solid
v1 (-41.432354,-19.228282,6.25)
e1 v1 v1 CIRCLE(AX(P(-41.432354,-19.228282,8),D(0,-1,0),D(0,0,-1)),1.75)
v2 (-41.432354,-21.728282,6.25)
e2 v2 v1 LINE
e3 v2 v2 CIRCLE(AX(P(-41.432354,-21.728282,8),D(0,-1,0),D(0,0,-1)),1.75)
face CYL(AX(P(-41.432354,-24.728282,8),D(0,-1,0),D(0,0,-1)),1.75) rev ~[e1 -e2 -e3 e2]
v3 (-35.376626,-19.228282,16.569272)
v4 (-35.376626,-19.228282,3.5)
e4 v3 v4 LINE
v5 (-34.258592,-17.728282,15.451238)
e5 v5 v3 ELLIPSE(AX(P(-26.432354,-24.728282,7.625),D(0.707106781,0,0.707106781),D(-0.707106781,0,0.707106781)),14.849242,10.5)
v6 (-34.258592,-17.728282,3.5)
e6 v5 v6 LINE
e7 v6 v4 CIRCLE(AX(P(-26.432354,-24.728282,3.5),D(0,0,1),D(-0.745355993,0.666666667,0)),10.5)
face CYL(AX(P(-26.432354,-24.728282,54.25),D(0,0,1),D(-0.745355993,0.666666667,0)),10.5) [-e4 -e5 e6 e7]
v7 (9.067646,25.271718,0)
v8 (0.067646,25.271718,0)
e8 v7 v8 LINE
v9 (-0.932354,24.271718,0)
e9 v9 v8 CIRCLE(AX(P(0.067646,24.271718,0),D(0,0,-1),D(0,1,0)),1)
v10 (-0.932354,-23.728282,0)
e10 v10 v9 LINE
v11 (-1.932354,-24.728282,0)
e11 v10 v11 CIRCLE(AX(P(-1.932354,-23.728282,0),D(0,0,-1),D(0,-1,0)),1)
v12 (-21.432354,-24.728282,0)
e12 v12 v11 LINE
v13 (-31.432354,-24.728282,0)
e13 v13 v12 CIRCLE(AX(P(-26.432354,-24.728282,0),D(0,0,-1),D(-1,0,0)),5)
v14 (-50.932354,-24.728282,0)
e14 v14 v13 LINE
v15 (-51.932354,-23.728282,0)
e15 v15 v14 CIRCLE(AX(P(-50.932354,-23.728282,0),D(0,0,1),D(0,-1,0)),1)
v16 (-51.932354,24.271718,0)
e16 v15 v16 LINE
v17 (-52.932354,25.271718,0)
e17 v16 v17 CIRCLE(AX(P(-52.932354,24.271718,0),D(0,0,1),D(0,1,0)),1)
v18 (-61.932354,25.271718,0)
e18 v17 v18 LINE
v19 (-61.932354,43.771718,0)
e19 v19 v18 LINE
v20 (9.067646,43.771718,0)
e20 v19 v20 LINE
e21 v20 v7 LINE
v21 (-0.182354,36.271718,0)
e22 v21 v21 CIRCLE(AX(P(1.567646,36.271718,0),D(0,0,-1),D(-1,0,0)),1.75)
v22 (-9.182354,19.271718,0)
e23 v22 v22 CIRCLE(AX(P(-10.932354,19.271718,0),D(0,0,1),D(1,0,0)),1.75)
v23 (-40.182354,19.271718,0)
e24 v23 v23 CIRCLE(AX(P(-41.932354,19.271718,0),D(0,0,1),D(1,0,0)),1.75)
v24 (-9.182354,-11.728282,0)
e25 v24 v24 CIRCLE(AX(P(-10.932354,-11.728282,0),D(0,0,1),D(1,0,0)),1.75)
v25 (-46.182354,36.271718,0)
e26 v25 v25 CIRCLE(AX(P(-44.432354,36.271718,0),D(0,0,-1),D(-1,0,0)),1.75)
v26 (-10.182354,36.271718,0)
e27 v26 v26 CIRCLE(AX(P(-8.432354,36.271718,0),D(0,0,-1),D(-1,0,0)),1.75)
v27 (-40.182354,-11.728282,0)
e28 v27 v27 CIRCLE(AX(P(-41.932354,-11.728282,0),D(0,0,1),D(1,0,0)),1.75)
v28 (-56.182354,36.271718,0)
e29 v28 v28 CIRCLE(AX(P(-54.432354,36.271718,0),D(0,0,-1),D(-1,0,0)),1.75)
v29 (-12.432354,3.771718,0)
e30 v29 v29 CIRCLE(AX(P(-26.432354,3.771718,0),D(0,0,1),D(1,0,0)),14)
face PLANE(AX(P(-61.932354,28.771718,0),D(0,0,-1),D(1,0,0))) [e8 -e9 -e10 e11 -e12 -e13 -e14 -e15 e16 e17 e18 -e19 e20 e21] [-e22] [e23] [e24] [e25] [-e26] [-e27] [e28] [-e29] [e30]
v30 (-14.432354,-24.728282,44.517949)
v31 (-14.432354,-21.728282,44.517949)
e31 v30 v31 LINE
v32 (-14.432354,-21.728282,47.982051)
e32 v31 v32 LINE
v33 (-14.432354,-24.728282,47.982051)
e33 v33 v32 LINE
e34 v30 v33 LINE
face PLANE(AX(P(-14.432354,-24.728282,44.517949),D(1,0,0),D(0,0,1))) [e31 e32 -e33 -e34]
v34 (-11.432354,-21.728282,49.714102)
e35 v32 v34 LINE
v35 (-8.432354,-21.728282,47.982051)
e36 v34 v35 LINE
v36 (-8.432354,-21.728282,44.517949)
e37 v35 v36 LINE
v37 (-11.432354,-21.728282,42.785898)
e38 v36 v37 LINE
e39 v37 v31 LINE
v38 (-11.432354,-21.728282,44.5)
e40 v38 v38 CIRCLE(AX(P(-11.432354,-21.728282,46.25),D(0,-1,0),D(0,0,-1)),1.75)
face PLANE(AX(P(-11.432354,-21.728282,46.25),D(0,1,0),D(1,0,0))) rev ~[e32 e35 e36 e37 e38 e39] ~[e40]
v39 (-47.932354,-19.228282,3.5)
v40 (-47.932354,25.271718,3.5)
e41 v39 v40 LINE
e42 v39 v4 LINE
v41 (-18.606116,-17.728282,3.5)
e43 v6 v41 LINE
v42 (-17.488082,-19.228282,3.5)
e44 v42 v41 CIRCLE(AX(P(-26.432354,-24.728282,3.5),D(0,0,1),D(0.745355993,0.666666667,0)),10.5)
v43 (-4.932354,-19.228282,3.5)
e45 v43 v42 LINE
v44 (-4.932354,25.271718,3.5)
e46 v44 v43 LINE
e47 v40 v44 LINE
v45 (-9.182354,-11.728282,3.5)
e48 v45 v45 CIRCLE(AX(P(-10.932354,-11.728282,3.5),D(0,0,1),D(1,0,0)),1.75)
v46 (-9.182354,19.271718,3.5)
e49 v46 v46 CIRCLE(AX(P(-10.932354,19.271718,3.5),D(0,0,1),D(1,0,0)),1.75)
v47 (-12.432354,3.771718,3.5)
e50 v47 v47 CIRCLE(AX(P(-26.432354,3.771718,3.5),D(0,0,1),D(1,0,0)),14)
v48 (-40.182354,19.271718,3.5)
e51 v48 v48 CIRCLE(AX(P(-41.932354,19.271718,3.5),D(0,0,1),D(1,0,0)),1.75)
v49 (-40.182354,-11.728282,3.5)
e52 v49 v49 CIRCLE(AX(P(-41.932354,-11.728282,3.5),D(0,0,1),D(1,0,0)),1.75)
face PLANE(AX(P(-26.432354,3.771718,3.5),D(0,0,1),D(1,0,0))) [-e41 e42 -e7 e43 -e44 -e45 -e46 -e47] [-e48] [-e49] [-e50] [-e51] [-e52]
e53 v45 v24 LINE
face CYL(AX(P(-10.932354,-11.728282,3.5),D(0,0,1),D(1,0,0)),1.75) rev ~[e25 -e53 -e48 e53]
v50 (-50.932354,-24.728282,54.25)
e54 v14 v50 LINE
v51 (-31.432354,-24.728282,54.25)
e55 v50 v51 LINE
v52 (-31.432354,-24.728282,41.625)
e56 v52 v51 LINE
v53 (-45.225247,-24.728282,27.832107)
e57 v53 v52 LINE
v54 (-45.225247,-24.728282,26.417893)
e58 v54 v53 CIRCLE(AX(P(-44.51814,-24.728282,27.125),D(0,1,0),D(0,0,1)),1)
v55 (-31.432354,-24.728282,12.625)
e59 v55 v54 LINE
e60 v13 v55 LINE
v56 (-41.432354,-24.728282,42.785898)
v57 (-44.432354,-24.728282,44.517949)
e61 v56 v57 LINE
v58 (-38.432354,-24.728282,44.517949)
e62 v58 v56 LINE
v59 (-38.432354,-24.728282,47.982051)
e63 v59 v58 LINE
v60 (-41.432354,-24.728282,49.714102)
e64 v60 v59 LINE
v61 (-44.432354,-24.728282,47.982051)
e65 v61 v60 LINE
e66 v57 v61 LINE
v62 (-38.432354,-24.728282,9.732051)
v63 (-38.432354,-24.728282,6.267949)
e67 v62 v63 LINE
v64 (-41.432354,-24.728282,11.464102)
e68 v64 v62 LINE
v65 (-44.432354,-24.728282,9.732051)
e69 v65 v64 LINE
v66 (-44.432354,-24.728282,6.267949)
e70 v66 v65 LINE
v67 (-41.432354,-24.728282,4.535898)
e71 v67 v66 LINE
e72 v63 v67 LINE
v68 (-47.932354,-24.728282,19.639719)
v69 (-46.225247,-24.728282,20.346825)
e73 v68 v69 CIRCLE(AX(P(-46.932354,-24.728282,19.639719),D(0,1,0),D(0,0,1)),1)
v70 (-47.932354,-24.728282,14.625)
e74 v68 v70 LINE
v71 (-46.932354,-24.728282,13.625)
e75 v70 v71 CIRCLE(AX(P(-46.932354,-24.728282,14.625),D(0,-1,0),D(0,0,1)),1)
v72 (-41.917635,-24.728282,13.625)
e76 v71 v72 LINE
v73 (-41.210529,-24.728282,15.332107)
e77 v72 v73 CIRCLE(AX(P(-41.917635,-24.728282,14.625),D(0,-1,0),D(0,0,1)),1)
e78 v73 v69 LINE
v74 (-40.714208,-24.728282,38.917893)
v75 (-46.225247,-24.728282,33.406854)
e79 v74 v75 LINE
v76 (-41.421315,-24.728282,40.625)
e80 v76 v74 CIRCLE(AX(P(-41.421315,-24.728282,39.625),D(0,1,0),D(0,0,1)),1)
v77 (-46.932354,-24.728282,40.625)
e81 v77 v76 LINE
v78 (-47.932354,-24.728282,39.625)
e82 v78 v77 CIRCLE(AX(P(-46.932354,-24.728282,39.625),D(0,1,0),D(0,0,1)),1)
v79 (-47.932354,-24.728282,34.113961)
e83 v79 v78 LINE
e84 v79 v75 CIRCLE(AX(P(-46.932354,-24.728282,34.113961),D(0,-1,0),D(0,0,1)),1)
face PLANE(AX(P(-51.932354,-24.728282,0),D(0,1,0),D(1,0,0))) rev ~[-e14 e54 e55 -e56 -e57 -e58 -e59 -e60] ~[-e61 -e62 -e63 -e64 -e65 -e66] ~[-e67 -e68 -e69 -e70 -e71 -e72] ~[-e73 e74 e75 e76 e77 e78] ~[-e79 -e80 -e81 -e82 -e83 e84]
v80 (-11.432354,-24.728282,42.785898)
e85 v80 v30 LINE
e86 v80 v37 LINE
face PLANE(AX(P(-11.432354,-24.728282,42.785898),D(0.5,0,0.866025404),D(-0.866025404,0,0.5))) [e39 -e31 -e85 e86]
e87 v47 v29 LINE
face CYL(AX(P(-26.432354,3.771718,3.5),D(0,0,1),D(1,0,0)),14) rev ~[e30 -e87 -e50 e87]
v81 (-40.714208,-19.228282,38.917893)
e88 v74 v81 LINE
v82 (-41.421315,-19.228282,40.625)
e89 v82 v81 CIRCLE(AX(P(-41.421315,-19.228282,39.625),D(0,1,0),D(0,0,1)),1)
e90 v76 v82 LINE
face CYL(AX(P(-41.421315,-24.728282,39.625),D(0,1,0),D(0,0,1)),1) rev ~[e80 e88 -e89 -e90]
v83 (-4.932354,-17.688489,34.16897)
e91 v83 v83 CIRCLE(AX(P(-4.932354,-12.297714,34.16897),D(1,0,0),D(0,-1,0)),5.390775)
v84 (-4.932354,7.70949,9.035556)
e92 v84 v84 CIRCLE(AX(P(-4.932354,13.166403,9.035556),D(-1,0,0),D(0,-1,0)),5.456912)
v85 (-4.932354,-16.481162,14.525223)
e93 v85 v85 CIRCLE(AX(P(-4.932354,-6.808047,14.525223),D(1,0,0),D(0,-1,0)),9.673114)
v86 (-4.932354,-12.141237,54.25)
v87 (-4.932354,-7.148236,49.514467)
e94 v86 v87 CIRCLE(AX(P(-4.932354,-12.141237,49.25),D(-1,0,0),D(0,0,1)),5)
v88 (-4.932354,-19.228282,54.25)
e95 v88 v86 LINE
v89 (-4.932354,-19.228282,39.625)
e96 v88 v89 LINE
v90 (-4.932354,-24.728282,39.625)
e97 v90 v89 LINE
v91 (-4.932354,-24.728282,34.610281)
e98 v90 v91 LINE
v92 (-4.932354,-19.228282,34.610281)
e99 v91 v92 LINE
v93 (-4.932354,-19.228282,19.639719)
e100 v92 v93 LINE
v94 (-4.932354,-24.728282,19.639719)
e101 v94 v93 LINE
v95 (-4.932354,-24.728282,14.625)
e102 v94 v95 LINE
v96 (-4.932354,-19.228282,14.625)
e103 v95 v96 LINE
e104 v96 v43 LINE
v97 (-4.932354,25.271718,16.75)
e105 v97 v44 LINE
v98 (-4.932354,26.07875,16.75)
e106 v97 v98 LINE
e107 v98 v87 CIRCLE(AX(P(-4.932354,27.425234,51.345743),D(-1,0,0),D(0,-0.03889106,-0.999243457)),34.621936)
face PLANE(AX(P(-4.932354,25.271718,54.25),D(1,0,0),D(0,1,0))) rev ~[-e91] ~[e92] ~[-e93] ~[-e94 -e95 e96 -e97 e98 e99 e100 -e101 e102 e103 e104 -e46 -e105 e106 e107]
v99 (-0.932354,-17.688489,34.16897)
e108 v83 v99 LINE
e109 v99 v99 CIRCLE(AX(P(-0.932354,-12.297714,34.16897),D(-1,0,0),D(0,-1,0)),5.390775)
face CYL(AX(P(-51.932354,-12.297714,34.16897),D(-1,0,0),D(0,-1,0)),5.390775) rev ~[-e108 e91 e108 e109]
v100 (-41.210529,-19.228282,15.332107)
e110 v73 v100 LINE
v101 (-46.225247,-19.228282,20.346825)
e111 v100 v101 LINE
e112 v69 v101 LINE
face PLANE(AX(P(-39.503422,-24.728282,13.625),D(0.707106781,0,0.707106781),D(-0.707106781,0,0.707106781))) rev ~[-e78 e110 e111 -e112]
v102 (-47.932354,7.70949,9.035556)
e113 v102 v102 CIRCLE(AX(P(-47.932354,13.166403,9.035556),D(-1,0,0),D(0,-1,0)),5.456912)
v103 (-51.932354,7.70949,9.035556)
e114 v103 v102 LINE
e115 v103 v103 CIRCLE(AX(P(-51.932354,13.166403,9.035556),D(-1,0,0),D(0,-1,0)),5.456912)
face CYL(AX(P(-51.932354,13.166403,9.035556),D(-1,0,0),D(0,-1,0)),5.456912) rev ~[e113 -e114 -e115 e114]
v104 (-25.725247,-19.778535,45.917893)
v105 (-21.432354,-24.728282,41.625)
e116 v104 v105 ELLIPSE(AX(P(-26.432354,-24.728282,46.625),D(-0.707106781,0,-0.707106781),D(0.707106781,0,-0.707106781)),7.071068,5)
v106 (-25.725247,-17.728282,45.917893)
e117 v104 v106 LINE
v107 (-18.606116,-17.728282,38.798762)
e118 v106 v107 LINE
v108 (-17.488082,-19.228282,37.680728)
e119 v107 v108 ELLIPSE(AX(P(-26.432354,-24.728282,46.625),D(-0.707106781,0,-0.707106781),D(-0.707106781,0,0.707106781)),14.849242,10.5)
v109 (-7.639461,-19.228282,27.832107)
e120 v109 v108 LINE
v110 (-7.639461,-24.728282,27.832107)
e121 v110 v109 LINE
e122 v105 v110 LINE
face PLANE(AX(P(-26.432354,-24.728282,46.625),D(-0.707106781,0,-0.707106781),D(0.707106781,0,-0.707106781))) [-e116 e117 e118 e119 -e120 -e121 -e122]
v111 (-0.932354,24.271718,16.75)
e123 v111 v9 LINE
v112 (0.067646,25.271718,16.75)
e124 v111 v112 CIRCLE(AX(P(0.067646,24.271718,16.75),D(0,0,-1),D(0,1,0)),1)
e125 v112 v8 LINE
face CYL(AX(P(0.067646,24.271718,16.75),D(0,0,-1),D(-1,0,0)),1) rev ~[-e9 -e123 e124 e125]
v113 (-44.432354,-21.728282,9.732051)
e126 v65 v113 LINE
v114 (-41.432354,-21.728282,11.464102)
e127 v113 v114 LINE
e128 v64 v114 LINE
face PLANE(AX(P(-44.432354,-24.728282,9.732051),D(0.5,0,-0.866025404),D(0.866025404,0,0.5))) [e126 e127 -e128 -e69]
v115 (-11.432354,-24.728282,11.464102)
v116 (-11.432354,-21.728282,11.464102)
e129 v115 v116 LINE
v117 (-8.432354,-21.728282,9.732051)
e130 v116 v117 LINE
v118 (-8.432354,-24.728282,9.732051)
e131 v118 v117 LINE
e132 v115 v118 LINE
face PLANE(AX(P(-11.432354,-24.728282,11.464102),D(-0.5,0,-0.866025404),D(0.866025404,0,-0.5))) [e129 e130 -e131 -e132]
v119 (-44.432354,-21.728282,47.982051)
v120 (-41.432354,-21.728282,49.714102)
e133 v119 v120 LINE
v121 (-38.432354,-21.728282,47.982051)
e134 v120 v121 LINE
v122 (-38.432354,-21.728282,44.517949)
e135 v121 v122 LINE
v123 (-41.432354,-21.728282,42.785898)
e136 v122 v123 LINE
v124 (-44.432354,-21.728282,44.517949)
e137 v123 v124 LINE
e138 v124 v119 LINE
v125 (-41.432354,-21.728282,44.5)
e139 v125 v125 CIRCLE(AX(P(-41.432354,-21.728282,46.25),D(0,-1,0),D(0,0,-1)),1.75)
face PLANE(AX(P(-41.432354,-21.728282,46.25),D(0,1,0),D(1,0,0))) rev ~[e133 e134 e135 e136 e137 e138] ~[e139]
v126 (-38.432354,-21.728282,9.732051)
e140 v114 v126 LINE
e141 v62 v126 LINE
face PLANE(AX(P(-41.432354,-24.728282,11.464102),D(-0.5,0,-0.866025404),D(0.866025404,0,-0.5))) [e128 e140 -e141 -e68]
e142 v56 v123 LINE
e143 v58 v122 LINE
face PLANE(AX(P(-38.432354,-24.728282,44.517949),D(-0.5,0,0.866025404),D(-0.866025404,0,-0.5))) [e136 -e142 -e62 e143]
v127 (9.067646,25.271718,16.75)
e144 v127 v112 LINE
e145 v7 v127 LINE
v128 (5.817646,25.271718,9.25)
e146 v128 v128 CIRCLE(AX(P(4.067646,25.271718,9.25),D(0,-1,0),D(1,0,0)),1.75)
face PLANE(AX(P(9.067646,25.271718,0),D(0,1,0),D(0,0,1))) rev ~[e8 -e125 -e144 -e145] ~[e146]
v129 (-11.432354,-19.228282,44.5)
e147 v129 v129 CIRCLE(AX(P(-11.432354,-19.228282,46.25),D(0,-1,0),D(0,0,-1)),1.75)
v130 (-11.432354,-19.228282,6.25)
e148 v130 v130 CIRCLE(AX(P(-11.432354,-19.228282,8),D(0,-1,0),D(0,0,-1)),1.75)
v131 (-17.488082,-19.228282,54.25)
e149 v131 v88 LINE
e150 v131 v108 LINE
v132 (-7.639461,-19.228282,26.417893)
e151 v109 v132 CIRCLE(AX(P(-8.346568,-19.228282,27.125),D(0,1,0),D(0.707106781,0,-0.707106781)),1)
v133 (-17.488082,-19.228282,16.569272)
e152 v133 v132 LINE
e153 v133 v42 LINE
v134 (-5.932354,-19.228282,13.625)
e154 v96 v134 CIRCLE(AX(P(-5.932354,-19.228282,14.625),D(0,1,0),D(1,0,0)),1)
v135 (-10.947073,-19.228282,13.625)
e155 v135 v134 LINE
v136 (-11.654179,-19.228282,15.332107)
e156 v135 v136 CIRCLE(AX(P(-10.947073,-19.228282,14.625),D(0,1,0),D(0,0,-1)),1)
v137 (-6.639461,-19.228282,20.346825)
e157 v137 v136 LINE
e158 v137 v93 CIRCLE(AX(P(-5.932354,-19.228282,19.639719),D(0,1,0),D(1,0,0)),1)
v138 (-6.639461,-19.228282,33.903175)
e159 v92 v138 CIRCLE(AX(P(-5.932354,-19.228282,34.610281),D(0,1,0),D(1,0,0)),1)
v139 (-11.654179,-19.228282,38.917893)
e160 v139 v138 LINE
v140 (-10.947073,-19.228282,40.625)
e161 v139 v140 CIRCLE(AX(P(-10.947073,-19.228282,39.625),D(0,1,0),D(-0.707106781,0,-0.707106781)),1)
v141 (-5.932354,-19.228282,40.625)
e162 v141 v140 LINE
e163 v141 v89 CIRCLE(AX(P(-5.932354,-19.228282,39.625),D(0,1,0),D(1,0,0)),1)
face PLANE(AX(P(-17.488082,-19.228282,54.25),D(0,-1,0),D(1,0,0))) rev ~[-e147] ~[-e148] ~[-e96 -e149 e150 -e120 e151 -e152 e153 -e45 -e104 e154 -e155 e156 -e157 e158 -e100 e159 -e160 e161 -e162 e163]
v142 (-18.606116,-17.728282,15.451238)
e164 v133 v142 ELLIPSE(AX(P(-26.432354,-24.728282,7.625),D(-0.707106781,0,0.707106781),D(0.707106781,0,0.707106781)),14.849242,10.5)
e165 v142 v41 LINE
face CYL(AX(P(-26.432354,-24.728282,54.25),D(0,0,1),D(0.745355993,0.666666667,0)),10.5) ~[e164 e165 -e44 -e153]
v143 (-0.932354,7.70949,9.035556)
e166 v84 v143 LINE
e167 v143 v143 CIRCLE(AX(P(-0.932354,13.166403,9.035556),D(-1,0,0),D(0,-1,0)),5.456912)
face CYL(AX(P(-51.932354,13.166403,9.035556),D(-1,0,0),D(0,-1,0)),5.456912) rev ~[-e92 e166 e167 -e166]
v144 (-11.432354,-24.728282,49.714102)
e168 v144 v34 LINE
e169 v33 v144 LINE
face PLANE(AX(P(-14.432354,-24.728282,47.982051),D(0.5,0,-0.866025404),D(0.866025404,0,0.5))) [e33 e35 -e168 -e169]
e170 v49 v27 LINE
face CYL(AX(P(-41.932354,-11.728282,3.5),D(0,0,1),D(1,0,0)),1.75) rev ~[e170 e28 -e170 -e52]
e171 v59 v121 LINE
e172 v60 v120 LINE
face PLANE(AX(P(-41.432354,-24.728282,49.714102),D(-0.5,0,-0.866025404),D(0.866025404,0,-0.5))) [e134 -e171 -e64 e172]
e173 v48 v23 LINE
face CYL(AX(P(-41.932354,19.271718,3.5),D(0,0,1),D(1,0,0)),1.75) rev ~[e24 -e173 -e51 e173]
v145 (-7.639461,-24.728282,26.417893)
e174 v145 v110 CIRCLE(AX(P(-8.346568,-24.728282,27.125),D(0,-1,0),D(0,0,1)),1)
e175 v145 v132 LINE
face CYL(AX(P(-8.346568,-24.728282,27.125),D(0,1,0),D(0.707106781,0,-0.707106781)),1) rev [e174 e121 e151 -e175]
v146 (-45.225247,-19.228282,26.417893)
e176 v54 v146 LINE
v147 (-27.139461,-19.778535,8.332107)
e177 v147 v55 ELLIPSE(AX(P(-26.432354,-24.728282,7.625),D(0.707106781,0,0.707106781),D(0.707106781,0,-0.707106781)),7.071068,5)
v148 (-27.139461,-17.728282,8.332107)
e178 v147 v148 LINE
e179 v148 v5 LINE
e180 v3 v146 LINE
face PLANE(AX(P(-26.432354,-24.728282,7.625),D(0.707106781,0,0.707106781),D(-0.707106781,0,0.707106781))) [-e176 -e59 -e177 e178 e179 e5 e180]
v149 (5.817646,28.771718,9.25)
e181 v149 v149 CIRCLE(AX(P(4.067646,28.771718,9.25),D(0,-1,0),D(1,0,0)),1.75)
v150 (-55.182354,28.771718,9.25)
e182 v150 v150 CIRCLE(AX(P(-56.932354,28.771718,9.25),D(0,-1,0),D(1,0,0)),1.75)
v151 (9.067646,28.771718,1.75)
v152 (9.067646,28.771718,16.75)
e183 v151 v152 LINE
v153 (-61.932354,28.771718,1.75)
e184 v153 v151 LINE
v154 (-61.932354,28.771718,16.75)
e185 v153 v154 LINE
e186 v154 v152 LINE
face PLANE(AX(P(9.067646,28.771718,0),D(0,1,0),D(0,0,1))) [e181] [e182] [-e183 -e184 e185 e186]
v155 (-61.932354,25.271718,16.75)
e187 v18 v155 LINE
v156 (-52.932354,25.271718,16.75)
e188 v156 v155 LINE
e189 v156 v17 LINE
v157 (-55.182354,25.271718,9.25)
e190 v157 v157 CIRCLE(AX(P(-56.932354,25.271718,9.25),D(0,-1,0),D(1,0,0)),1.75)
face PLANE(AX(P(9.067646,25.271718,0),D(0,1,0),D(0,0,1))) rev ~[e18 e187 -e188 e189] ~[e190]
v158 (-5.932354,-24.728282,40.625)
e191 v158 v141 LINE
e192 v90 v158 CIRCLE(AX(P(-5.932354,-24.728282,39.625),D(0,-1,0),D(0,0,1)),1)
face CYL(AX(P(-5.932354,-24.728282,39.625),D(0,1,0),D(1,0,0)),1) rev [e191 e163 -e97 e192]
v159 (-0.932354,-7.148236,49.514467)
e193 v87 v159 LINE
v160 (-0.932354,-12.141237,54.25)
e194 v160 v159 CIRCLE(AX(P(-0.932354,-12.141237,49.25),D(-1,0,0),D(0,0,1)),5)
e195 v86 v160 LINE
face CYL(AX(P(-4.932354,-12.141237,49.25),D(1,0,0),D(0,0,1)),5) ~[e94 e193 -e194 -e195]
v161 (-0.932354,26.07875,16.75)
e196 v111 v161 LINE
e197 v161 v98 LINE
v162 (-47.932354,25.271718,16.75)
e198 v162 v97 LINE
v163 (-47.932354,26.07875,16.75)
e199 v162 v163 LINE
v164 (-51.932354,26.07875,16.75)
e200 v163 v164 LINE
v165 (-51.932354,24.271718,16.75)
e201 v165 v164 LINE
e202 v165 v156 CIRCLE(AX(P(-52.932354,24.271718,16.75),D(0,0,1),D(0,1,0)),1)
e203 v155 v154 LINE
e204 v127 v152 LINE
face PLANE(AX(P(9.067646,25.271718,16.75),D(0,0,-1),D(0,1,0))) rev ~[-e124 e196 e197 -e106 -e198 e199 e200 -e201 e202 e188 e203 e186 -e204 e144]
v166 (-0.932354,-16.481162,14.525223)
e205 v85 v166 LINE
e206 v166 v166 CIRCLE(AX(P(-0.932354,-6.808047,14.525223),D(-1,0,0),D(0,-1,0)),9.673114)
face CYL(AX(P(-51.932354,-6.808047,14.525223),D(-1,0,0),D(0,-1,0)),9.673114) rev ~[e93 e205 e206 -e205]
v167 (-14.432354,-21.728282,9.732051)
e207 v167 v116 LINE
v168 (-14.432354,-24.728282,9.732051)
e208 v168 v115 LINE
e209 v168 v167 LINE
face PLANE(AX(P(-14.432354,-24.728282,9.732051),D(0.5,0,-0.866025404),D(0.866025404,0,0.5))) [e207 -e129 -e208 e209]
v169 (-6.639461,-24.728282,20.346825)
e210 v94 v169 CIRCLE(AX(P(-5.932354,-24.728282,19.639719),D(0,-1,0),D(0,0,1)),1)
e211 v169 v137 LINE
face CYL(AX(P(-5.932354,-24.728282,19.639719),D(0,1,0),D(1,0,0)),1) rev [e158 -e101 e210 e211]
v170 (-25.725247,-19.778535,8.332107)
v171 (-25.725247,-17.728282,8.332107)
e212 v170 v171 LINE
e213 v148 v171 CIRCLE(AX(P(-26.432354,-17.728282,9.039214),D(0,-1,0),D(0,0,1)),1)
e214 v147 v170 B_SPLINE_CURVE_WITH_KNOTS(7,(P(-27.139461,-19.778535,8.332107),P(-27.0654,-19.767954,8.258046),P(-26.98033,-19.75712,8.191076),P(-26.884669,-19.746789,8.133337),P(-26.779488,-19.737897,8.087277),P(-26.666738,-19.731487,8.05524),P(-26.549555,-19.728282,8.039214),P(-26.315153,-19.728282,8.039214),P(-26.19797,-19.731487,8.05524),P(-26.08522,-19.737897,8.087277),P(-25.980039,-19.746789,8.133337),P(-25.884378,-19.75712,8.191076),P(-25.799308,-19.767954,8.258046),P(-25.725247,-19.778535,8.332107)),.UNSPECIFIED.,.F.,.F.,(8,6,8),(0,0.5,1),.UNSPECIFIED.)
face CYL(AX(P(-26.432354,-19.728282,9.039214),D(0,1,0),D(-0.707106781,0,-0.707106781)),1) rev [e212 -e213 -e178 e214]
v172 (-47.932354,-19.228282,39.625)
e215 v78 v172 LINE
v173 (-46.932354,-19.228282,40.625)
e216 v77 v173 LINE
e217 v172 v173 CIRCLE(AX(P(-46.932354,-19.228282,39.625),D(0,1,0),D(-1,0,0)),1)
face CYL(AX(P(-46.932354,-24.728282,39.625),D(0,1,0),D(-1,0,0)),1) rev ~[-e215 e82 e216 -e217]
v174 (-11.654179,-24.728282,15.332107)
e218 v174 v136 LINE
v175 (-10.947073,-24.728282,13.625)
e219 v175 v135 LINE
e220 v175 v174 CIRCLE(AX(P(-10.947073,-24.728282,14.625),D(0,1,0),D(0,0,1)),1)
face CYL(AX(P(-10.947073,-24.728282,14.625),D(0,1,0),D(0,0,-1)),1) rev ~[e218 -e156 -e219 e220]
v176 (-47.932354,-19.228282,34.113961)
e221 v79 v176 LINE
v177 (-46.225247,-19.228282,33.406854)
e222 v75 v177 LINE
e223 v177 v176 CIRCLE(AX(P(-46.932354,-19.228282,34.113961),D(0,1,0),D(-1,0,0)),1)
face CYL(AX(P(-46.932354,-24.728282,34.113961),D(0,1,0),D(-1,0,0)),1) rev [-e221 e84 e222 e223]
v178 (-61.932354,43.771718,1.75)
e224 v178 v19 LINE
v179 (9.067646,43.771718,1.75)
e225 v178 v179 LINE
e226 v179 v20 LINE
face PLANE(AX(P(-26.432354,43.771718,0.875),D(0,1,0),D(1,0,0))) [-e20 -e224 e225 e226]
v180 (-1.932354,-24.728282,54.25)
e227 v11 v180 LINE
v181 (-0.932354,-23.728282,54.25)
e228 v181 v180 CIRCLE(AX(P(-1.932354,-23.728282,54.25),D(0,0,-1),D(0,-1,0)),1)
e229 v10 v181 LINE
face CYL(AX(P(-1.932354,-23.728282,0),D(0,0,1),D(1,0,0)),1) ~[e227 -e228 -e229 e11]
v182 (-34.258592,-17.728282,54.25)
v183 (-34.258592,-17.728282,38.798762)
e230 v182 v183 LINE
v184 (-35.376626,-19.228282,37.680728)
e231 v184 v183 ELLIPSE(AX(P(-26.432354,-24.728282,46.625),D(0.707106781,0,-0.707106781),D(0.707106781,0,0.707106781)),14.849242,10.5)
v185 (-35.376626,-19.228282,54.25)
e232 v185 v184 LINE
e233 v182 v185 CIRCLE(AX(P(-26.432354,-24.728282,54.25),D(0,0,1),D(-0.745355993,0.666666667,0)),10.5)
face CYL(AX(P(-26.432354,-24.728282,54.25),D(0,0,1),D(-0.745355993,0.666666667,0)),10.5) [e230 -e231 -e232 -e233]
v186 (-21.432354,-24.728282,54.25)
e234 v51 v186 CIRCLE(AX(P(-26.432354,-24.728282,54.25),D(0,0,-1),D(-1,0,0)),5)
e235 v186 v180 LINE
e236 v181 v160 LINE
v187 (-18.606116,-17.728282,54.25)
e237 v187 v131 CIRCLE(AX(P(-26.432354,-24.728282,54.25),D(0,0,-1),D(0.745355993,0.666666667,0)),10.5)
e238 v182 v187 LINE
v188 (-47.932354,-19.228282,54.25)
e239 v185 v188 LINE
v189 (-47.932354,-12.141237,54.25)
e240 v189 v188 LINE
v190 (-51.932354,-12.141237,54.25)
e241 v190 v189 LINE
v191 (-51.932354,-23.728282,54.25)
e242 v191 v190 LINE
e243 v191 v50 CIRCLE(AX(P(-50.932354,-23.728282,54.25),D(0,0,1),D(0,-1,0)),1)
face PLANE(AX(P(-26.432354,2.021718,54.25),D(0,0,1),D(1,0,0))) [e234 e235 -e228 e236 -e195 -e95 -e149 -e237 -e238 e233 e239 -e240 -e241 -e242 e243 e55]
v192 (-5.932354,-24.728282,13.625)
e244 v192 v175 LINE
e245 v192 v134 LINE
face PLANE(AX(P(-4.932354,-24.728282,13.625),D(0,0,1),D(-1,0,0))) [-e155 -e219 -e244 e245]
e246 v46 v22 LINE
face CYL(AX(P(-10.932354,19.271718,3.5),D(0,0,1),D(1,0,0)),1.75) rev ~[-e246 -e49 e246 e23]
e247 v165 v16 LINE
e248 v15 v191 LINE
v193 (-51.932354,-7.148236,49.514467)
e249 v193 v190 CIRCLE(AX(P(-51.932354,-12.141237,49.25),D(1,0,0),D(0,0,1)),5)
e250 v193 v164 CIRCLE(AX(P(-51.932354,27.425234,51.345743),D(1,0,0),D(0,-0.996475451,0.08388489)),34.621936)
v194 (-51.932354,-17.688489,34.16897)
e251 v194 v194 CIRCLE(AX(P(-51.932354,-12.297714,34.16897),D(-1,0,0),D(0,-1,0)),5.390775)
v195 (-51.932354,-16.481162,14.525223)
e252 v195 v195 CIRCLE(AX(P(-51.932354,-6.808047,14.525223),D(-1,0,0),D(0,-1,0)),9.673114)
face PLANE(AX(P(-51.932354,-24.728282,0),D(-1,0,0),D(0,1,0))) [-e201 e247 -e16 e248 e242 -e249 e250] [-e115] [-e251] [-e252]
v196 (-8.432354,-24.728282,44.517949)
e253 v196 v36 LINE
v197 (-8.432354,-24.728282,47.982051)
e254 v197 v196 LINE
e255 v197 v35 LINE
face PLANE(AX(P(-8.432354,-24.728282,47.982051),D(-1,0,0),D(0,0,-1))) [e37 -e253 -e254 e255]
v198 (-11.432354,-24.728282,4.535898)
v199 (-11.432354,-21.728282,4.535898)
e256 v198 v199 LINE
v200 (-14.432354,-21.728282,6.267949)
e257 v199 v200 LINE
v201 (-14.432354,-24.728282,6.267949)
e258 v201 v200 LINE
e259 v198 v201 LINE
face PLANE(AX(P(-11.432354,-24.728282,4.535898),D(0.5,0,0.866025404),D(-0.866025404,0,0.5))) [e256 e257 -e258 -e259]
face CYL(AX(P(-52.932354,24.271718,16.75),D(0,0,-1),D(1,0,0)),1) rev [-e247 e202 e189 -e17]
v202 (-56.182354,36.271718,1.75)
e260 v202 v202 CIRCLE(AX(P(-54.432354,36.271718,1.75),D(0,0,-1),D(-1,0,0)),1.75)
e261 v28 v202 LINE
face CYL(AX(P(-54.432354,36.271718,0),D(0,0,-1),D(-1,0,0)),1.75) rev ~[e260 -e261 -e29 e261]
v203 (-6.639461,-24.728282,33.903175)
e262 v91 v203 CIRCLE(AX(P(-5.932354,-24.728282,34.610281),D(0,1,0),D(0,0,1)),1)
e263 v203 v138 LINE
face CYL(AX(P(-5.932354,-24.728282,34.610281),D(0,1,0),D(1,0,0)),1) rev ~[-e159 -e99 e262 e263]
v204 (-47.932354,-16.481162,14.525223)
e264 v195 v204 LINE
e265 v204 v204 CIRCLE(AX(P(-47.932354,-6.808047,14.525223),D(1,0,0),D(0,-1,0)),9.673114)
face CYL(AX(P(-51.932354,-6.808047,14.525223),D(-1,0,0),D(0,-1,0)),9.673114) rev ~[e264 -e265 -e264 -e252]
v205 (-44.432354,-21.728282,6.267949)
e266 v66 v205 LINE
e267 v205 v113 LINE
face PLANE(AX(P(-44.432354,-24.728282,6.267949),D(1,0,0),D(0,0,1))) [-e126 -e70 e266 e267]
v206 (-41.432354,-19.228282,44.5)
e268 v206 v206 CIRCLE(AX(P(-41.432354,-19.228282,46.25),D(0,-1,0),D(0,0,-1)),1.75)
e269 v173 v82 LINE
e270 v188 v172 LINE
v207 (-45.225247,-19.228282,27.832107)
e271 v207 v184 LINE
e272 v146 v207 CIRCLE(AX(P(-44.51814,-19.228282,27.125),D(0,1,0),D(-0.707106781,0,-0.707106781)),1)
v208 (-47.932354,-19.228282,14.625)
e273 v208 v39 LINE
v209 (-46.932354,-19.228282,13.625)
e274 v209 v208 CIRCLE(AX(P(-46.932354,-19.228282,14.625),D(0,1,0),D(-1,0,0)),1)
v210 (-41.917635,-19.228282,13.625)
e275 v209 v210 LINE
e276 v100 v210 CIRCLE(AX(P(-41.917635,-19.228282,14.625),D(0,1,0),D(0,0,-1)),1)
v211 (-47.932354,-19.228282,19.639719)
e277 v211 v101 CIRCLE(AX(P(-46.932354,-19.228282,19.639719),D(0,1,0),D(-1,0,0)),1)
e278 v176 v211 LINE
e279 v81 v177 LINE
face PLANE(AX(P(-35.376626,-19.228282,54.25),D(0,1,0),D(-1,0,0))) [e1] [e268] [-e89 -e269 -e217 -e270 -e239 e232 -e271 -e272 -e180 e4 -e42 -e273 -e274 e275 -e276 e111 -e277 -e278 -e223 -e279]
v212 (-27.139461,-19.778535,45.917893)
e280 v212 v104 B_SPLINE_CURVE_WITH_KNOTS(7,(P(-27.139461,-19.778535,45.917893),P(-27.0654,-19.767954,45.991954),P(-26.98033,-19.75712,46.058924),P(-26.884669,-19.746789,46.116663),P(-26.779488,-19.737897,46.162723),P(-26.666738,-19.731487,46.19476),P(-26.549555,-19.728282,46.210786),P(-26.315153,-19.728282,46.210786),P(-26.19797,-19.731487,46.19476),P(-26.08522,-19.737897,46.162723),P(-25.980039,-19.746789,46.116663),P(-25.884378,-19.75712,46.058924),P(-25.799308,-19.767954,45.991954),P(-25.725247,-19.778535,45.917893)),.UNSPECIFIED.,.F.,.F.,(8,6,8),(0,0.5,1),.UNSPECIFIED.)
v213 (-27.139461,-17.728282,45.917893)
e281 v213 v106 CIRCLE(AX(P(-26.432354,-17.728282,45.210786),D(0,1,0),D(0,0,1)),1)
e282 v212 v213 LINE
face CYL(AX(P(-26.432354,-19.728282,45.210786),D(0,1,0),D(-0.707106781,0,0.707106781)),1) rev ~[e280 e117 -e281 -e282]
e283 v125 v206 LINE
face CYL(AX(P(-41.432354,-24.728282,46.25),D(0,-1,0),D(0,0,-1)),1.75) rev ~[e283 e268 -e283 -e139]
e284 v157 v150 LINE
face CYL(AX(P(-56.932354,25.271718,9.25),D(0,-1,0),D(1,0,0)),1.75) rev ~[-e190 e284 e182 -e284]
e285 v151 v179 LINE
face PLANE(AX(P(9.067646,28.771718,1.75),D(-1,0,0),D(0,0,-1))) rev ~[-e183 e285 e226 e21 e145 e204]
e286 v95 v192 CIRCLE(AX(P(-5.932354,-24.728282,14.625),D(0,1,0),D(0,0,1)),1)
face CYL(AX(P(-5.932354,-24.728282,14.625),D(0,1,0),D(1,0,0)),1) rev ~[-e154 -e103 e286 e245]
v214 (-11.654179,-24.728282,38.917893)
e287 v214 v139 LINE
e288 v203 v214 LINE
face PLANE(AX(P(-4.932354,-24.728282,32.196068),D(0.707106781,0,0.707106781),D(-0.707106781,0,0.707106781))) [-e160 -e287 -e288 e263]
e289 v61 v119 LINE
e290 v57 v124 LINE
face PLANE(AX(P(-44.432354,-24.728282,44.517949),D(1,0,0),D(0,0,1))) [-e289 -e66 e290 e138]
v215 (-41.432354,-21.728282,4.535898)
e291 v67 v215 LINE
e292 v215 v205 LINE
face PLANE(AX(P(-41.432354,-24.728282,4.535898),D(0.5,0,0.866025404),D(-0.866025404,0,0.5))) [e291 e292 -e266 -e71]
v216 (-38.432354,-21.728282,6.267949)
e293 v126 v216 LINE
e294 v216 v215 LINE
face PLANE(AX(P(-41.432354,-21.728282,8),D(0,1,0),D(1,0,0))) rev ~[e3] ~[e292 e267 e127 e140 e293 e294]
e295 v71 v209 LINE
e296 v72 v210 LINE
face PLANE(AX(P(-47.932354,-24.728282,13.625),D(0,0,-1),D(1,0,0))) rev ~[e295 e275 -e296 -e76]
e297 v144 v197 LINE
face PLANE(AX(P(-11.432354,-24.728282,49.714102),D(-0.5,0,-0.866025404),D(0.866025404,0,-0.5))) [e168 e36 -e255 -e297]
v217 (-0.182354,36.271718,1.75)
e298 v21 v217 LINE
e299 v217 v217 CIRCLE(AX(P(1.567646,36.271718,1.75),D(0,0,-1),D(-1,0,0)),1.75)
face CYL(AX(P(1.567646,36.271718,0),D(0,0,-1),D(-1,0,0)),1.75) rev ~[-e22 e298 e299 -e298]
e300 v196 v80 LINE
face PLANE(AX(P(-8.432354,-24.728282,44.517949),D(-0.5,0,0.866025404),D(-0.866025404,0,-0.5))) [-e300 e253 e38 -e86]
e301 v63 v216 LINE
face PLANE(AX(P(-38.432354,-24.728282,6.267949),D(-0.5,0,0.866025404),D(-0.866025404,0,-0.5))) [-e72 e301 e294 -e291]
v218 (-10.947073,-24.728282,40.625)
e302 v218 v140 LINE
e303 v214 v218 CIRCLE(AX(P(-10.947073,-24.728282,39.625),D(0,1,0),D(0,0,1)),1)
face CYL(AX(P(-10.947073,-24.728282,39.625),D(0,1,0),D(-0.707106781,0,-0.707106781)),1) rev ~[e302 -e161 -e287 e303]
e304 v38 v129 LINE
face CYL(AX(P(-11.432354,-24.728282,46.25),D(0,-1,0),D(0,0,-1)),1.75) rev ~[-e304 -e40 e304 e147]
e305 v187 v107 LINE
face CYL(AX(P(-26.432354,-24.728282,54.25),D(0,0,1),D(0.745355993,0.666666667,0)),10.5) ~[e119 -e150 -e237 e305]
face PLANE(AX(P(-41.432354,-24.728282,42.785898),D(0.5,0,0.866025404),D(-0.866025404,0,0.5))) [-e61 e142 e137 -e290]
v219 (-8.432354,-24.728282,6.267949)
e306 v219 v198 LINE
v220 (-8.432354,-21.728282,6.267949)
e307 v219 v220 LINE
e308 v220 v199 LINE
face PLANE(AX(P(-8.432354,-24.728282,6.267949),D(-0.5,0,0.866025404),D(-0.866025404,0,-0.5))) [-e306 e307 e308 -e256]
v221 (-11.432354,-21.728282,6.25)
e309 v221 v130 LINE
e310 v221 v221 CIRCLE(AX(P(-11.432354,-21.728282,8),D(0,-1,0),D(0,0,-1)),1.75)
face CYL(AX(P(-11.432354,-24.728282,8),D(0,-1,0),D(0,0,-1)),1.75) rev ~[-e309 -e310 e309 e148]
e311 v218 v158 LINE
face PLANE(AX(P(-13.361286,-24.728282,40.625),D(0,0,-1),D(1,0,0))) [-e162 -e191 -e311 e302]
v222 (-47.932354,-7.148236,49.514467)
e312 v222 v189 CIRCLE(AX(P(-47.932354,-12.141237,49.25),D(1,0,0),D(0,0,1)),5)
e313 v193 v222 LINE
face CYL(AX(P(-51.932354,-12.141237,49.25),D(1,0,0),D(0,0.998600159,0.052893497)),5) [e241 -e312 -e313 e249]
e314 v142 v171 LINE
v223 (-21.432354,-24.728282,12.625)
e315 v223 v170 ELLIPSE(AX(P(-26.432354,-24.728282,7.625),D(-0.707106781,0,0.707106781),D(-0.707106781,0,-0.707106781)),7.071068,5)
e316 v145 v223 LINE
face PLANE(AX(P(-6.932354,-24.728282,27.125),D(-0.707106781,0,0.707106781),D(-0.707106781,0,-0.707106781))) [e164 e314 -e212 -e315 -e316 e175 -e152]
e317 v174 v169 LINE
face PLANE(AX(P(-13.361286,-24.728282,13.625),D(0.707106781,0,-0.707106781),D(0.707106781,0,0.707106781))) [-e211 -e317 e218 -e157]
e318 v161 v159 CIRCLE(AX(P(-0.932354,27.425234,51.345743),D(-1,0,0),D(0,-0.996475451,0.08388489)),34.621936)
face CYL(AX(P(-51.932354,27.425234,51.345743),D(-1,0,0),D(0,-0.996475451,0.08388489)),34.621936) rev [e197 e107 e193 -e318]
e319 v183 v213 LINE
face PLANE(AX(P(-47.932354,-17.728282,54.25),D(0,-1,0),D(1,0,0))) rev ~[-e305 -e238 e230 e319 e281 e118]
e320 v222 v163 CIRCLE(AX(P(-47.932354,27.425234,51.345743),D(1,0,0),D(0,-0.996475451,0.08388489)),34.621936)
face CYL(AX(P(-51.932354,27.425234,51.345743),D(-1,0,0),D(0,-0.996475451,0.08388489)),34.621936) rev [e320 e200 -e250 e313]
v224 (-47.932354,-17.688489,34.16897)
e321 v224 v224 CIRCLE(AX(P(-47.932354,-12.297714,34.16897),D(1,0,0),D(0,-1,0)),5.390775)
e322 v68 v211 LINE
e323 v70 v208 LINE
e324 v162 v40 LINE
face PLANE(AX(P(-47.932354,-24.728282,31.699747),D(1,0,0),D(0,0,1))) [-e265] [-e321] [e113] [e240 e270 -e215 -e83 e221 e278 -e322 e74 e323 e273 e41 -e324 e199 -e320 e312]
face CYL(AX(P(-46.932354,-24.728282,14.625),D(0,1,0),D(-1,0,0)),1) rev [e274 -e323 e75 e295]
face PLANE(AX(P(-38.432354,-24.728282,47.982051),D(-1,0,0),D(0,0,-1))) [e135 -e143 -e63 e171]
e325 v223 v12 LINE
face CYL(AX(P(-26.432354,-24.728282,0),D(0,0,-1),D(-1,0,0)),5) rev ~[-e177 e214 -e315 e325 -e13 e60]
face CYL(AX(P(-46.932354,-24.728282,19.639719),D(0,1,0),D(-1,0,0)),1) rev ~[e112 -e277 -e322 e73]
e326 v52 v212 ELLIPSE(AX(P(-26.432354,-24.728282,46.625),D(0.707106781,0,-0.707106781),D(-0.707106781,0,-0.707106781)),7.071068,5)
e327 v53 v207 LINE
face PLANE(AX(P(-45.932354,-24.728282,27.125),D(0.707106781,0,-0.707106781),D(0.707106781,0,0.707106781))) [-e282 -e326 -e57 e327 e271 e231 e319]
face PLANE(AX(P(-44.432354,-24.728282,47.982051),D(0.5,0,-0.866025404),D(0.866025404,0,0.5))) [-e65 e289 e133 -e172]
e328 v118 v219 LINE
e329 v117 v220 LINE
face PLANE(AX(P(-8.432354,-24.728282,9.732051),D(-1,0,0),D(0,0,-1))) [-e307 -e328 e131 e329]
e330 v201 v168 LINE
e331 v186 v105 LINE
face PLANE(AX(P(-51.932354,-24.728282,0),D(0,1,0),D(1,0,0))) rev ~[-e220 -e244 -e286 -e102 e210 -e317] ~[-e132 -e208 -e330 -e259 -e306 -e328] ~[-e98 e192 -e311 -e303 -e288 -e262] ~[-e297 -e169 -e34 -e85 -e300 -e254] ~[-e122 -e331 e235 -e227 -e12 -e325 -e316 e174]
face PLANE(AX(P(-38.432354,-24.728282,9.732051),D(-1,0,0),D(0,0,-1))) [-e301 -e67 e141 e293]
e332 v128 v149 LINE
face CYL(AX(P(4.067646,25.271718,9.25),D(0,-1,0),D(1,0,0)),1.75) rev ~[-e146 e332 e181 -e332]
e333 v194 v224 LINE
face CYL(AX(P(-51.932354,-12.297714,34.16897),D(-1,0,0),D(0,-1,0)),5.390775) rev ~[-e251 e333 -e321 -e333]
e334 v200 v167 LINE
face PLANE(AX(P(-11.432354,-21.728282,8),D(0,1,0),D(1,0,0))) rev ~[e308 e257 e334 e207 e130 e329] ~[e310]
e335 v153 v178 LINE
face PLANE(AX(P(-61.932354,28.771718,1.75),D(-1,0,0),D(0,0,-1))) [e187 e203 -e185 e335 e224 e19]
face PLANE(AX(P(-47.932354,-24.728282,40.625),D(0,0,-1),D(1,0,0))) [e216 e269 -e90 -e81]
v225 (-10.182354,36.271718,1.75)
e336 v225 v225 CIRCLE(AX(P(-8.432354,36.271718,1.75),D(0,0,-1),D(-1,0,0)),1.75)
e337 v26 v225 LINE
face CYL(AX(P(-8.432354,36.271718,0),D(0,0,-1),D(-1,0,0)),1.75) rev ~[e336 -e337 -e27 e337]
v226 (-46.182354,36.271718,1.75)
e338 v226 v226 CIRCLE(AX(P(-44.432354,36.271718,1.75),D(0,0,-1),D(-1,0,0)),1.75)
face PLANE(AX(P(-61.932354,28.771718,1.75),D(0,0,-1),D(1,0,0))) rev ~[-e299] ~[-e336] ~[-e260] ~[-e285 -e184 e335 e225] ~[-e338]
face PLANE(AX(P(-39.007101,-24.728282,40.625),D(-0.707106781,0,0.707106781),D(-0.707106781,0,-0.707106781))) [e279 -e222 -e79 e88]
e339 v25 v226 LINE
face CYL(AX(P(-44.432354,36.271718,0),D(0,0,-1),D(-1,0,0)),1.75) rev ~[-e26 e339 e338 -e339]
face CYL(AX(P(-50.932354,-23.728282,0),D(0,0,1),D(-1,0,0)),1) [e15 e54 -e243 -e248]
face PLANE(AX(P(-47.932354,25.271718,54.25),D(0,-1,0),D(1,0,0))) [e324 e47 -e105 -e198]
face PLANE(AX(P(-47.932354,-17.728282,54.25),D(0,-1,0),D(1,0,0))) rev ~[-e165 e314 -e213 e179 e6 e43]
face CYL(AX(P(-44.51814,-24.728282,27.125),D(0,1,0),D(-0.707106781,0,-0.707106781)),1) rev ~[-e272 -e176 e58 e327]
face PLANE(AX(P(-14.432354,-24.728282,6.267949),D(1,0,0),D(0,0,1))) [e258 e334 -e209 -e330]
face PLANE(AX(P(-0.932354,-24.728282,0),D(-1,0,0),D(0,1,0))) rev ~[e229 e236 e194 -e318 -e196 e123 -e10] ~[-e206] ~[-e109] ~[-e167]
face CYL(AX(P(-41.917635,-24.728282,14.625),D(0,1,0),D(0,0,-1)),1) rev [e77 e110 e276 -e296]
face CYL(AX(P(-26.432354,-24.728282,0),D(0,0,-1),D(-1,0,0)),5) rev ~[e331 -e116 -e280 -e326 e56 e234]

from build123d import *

# Parameters (mm, degrees)
SKETCH1_W                = 51
SKETCH1_H                = 53.5
BOSS_EXTRUDE1_DEPTH      = 54.25
SKETCH2_W                = 43
SKETCH2_H                = 43
CUT_EXTRUDE1_DEPTH       = 50.75
SKETCH3_W                = 43
SKETCH3_H                = 3.5
CUT_EXTRUDE2_DEPTH       = 37.5
CUT_EXTRUDE3_DEPTH       = 76
SKETCH5_R                = 9.673114497
SKETCH5_R_2              = 5.390775308
SKETCH5_R_3              = 5.456912487
CUT_EXTRUDE4_DEPTH       = 76
SKETCH6_R                = 14
SKETCH6_R_2              = 1.75
CUT_EXTRUDE5_DEPTH       = 76
SKETCH7_R                = 5
CUT_EXTRUDE6_DEPTH       = 76
CUT_EXTRUDE7_DEPTH       = 27
FILLET2_R                = 1
SKETCH12_R               = 1.75
CUT_EXTRUDE8_DEPTH       = 15
BOSS_EXTRUDE4_DEPTH      = 10
BOSS_EXTRUDE4_DEPTH_BACK = 61
SKETCH13_W               = 16.75
SKETCH13_H               = 3.5
SKETCH14_W               = 71
SKETCH14_H               = 1.75
BOSS_EXTRUDE5_DEPTH      = 15
SKETCH15_R               = 1.75
CUT_EXTRUDE9_DEPTH       = 10
SKETCH16_R               = 1.75
CUT_EXTRUDE10_DEPTH      = 10
CUT_EXTRUDE11_REACH      = 95.245
FILLET3_R                = 5
FILLET4_R                = 1
CUT_EXTRUDE12_DEPTH      = 3


with BuildPart() as part:
    # Sketch1 → Boss-Extrude1 (new body)
    with BuildSketch(Plane.XY):
        with Locations((-26.432354029, 2.021717979)):
            Rectangle(SKETCH1_W, SKETCH1_H)
    extrude(amount=BOSS_EXTRUDE1_DEPTH)

    # Sketch2 → Cut-Extrude1 (cut)
    with BuildSketch(Plane.XY.offset(54.25)):
        with Locations((-26.432354029, 3.771717979)):
            Rectangle(SKETCH2_W, SKETCH2_H)
    extrude(amount=-CUT_EXTRUDE1_DEPTH, mode=Mode.SUBTRACT)

    # Sketch3 → Cut-Extrude2 (cut)
    with BuildSketch(Plane.XY.offset(54.25)):
        with Locations((-26.432354029, 27.021717979)):
            Rectangle(SKETCH3_W, SKETCH3_H)
    extrude(amount=-CUT_EXTRUDE2_DEPTH, mode=Mode.SUBTRACT)

    # Sketch4 → Cut-Extrude3 (cut)
    with BuildSketch(Plane.ZY.offset(51.932354029)):
        with BuildLine():
            Line((16.75, 28.771717979), (54.25, 28.771717979))
            Line((54.25, 28.771717979), (54.25, -7.074674815))
            ThreePointArc((54.25, -7.074674815), (27.422353926, 2.398250742), (16.75, 28.771717979))
        make_face()
    extrude(amount=-CUT_EXTRUDE3_DEPTH, mode=Mode.SUBTRACT)

    # Sketch5 → Cut-Extrude4 (cut)
    with BuildSketch(Plane.ZY.offset(51.932354029)):
        with Locations(Location((14.525222974, -6.808047023, 0), (0, 0, 270))):
            Circle(SKETCH5_R)
        with Locations(Location((34.168969833, -12.297713654, 0), (0, 0, 270))):
            Circle(SKETCH5_R_2)
        with Locations(Location((9.035556344, 13.166402645, 0), (0, 0, 270))):
            Circle(SKETCH5_R_3)
    extrude(amount=-CUT_EXTRUDE4_DEPTH, mode=Mode.SUBTRACT)

    # Sketch6 → Cut-Extrude5 (cut)
    with BuildSketch(Plane.XY.offset(3.5)):
        with Locations((-26.432354029, 3.771717979)):
            Circle(SKETCH6_R)
        with Locations((-10.932354029, 19.271717979)):
            Circle(SKETCH6_R_2)
        with Locations((-41.932354029, 19.271717979)):
            Circle(SKETCH6_R_2)
        with Locations((-41.932354029, -11.728282021)):
            Circle(SKETCH6_R_2)
        with Locations((-10.932354029, -11.728282021)):
            Circle(SKETCH6_R_2)
    extrude(amount=-CUT_EXTRUDE5_DEPTH, mode=Mode.SUBTRACT)

    # Sketch7 → Cut-Extrude6 (cut)
    with BuildSketch(Plane(origin=(0, 0, 0), x_dir=(-1, 0, 0), z_dir=(0, 0, -1))):
        with Locations((26.432354029, -24.728282021)):
            Circle(SKETCH7_R)
    extrude(amount=-CUT_EXTRUDE6_DEPTH, mode=Mode.SUBTRACT)

    # Sketch8 → Cut-Extrude7 (cut)
    with BuildSketch(Plane.XZ.offset(24.728282021)):
        Polygon((-26.432354029, 46.625), (-6.932354029, 27.125), (-26.432354029, 7.625), (-45.932354029, 27.125), align=None)
        Polygon((-13.361286217, 40.625), (-4.932354029, 40.625), (-4.932354029, 32.196067812), align=None)
        Polygon((-4.932354029, 13.625), (-13.361286217, 13.625), (-4.932354029, 22.053932188), align=None)
        Polygon((-47.932354029, 13.625), (-39.503421841, 13.625), (-47.932354029, 22.053932188), align=None)
        Polygon((-47.932354029, 40.625), (-39.007101497, 40.625), (-47.932354029, 31.699747468), align=None)
    extrude(amount=-CUT_EXTRUDE7_DEPTH, mode=Mode.SUBTRACT)

    # Fillet2
    fillet2_edges = [part.edges().sort_by_distance(p)[0] for p in [
        (-47.932354029, -21.228282021, 31.699747468),
        (-4.932354029, -21.228282021, 32.196067812),
        (-4.932354029, -21.228282021, 22.053932188),
        (-47.932354029, -21.228282021, 22.053932188),
        (-13.361286217, -21.228282021, 13.625),
        (-39.503421841, -21.228282021, 13.625),
        (-26.432354029, -18.728282021, 7.625),
        (-4.932354029, -21.228282021, 13.625),
        (-47.932354029, -21.228282021, 13.625),
        (-45.932354029, -21.228282021, 27.125),
        (-6.932354029, -21.228282021, 27.125),
        (-4.932354029, -21.228282021, 40.625),
        (-47.932354029, -21.228282021, 40.625),
        (-39.007101497, -21.228282021, 40.625),
        (-13.361286217, -21.228282021, 40.625),
        (-26.432354029, -18.728282021, 46.625),
    ]]
    fillet(fillet2_edges, radius=FILLET2_R)

    # Sketch12 → Cut-Extrude8 (cut)
    with BuildSketch(Plane.XZ.offset(24.728282021)):
        with Locations(Location((-11.432354029, 46.25, 0), (0, 0, 270))):
            Circle(SKETCH12_R)
        with Locations(Location((-41.432354029, 46.25, 0), (0, 0, 270))):
            Circle(SKETCH12_R)
        with Locations(Location((-11.432354029, 8, 0), (0, 0, 270))):
            Circle(SKETCH12_R)
        with Locations(Location((-41.432354029, 8, 0), (0, 0, 270))):
            Circle(SKETCH12_R)
    extrude(amount=-CUT_EXTRUDE8_DEPTH, mode=Mode.SUBTRACT)

    # Sketch13 → Boss-Extrude4 (add, two sides: drawn at the far end of the back side and taken through both)
    with BuildSketch(Plane.ZY.offset(51.932354029).offset(-BOSS_EXTRUDE4_DEPTH_BACK)):
        with Locations((8.375, 27.021717979)):
            Rectangle(SKETCH13_W, SKETCH13_H)
    extrude(amount=BOSS_EXTRUDE4_DEPTH + BOSS_EXTRUDE4_DEPTH_BACK)

    # Sketch14 → Boss-Extrude5 (add)
    with BuildSketch(Plane(origin=(0, 28.771717979, 0), x_dir=(1, 0, 0), z_dir=(0, 1, 0))):
        with Locations((-26.432354029, -0.875)):
            Rectangle(SKETCH14_W, SKETCH14_H)
    extrude(amount=BOSS_EXTRUDE5_DEPTH)

    # Sketch15 → Cut-Extrude9 (cut)
    with BuildSketch(Plane.XZ.offset(-25.271717979)):
        with Locations((-56.932354029, 9.25)):
            Circle(SKETCH15_R)
        with Locations((4.067645971, 9.25)):
            Circle(SKETCH15_R)
    extrude(amount=-CUT_EXTRUDE9_DEPTH, mode=Mode.SUBTRACT)

    # Sketch16 → Cut-Extrude10 (cut)
    with BuildSketch(Plane(origin=(0, 0, 0), x_dir=(-1, 0, 0), z_dir=(0, 0, -1))):
        with Locations((54.432354029, 36.271717979)):
            Circle(SKETCH16_R)
        with Locations((-1.567645971, 36.271717979)):
            Circle(SKETCH16_R)
        with Locations((44.432354029, 36.271717979)):
            Circle(SKETCH16_R)
        with Locations((8.432354029, 36.271717979)):
            Circle(SKETCH16_R)
    extrude(amount=-CUT_EXTRUDE10_DEPTH, mode=Mode.SUBTRACT)

    # Cut-Extrude11: up to this face of the body (flat: up to its plane)
    cut_extrude11_end = Plane(part.part.faces().sort_by_distance((-26.432354029, -17.120170189, 3.5))[0])
    # Sketch17 → Cut-Extrude11 (cut, up to the picked face)
    with BuildSketch(Plane.XY.offset(54.25), mode=Mode.PRIVATE) as cut_extrude11_sk1:
        with BuildLine():
            Line((-17.488082119, -19.228282021), (-4.932354029, -19.228282021))
            Line((-4.932354029, -19.228282021), (-4.932354029, -17.728282021))
            Line((-4.932354029, -17.728282021), (-18.606116108, -17.728282021))
            ThreePointArc((-18.606116108, -17.728282021), (-18.013624909, -18.453331822), (-17.488082119, -19.228282021))
        make_face()
    cut_extrude11_tool1 = split(extrude(cut_extrude11_sk1.sketch, amount=-CUT_EXTRUDE11_REACH, mode=Mode.PRIVATE), bisect_by=cut_extrude11_end, keep=Keep.BOTH, mode=Mode.PRIVATE)
    # Sketch17 → Cut-Extrude11 (cut, up to the picked face)
    with BuildSketch(Plane.XY.offset(54.25), mode=Mode.PRIVATE) as cut_extrude11_sk2:
        with BuildLine():
            Line((-35.376625939, -19.228282021), (-47.932354029, -19.228282021))
            Line((-47.932354029, -19.228282021), (-47.932354029, -17.728282021))
            Line((-47.932354029, -17.728282021), (-34.25859195, -17.728282021))
            ThreePointArc((-34.25859195, -17.728282021), (-34.851083149, -18.453331822), (-35.376625939, -19.228282021))
        make_face()
    cut_extrude11_tool2 = split(extrude(cut_extrude11_sk2.sketch, amount=-CUT_EXTRUDE11_REACH, mode=Mode.PRIVATE), bisect_by=cut_extrude11_end, keep=Keep.BOTH, mode=Mode.PRIVATE)
    add(cut_extrude11_tool1.solids().sort_by(Axis((-11.476334, -18.467624, 54.25), (0, 0, -1)))[0], mode=Mode.SUBTRACT)
    add(cut_extrude11_tool2.solids().sort_by(Axis((-41.388374, -18.467624, 54.25), (0, 0, -1)))[0], mode=Mode.SUBTRACT)

    # Fillet3
    fillet3_edges = [part.edges().sort_by_distance(p)[0] for p in [
        (-2.932354029, -7.074674815, 54.25),
        (-49.932354029, -7.074674815, 54.25),
    ]]
    fillet(fillet3_edges, radius=FILLET3_R)

    # Fillet4
    fillet4_edges = [part.edges().sort_by_distance(p)[0] for p in [
        (-51.932354029, 25.271717979, 8.375),
        (-0.932354029, 25.271717979, 8.375),
        (-0.932354029, -24.728282021, 27.125),
        (-51.932354029, -24.728282021, 27.125),
    ]]
    fillet(fillet4_edges, radius=FILLET4_R)

    # Sketch19 → Cut-Extrude12 (cut)
    with BuildSketch(Plane(origin=(0, -24.728282021, 0), x_dir=(1, 0, 0), z_dir=(0, 1, 0))):
        Polygon((-44.432354029, -9.732050808), (-41.432354029, -11.464101615), (-38.432354029, -9.732050808), (-38.432354029, -6.267949192), (-41.432354029, -4.535898385), (-44.432354029, -6.267949192), align=None)
        Polygon((-11.432354029, -4.535898385), (-14.432354029, -6.267949192), (-14.432354029, -9.732050808), (-11.432354029, -11.464101615), (-8.432354029, -9.732050808), (-8.432354029, -6.267949192), align=None)
        Polygon((-38.432354029, -47.982050808), (-38.432354029, -44.517949192), (-41.432354029, -42.785898385), (-44.432354029, -44.517949192), (-44.432354029, -47.982050808), (-41.432354029, -49.714101615), align=None)
        Polygon((-8.432354029, -47.982050808), (-8.432354029, -44.517949192), (-11.432354029, -42.785898385), (-14.432354029, -44.517949192), (-14.432354029, -47.982050808), (-11.432354029, -49.714101615), align=None)
    extrude(amount=CUT_EXTRUDE12_DEPTH, mode=Mode.SUBTRACT)


solid = part.part
